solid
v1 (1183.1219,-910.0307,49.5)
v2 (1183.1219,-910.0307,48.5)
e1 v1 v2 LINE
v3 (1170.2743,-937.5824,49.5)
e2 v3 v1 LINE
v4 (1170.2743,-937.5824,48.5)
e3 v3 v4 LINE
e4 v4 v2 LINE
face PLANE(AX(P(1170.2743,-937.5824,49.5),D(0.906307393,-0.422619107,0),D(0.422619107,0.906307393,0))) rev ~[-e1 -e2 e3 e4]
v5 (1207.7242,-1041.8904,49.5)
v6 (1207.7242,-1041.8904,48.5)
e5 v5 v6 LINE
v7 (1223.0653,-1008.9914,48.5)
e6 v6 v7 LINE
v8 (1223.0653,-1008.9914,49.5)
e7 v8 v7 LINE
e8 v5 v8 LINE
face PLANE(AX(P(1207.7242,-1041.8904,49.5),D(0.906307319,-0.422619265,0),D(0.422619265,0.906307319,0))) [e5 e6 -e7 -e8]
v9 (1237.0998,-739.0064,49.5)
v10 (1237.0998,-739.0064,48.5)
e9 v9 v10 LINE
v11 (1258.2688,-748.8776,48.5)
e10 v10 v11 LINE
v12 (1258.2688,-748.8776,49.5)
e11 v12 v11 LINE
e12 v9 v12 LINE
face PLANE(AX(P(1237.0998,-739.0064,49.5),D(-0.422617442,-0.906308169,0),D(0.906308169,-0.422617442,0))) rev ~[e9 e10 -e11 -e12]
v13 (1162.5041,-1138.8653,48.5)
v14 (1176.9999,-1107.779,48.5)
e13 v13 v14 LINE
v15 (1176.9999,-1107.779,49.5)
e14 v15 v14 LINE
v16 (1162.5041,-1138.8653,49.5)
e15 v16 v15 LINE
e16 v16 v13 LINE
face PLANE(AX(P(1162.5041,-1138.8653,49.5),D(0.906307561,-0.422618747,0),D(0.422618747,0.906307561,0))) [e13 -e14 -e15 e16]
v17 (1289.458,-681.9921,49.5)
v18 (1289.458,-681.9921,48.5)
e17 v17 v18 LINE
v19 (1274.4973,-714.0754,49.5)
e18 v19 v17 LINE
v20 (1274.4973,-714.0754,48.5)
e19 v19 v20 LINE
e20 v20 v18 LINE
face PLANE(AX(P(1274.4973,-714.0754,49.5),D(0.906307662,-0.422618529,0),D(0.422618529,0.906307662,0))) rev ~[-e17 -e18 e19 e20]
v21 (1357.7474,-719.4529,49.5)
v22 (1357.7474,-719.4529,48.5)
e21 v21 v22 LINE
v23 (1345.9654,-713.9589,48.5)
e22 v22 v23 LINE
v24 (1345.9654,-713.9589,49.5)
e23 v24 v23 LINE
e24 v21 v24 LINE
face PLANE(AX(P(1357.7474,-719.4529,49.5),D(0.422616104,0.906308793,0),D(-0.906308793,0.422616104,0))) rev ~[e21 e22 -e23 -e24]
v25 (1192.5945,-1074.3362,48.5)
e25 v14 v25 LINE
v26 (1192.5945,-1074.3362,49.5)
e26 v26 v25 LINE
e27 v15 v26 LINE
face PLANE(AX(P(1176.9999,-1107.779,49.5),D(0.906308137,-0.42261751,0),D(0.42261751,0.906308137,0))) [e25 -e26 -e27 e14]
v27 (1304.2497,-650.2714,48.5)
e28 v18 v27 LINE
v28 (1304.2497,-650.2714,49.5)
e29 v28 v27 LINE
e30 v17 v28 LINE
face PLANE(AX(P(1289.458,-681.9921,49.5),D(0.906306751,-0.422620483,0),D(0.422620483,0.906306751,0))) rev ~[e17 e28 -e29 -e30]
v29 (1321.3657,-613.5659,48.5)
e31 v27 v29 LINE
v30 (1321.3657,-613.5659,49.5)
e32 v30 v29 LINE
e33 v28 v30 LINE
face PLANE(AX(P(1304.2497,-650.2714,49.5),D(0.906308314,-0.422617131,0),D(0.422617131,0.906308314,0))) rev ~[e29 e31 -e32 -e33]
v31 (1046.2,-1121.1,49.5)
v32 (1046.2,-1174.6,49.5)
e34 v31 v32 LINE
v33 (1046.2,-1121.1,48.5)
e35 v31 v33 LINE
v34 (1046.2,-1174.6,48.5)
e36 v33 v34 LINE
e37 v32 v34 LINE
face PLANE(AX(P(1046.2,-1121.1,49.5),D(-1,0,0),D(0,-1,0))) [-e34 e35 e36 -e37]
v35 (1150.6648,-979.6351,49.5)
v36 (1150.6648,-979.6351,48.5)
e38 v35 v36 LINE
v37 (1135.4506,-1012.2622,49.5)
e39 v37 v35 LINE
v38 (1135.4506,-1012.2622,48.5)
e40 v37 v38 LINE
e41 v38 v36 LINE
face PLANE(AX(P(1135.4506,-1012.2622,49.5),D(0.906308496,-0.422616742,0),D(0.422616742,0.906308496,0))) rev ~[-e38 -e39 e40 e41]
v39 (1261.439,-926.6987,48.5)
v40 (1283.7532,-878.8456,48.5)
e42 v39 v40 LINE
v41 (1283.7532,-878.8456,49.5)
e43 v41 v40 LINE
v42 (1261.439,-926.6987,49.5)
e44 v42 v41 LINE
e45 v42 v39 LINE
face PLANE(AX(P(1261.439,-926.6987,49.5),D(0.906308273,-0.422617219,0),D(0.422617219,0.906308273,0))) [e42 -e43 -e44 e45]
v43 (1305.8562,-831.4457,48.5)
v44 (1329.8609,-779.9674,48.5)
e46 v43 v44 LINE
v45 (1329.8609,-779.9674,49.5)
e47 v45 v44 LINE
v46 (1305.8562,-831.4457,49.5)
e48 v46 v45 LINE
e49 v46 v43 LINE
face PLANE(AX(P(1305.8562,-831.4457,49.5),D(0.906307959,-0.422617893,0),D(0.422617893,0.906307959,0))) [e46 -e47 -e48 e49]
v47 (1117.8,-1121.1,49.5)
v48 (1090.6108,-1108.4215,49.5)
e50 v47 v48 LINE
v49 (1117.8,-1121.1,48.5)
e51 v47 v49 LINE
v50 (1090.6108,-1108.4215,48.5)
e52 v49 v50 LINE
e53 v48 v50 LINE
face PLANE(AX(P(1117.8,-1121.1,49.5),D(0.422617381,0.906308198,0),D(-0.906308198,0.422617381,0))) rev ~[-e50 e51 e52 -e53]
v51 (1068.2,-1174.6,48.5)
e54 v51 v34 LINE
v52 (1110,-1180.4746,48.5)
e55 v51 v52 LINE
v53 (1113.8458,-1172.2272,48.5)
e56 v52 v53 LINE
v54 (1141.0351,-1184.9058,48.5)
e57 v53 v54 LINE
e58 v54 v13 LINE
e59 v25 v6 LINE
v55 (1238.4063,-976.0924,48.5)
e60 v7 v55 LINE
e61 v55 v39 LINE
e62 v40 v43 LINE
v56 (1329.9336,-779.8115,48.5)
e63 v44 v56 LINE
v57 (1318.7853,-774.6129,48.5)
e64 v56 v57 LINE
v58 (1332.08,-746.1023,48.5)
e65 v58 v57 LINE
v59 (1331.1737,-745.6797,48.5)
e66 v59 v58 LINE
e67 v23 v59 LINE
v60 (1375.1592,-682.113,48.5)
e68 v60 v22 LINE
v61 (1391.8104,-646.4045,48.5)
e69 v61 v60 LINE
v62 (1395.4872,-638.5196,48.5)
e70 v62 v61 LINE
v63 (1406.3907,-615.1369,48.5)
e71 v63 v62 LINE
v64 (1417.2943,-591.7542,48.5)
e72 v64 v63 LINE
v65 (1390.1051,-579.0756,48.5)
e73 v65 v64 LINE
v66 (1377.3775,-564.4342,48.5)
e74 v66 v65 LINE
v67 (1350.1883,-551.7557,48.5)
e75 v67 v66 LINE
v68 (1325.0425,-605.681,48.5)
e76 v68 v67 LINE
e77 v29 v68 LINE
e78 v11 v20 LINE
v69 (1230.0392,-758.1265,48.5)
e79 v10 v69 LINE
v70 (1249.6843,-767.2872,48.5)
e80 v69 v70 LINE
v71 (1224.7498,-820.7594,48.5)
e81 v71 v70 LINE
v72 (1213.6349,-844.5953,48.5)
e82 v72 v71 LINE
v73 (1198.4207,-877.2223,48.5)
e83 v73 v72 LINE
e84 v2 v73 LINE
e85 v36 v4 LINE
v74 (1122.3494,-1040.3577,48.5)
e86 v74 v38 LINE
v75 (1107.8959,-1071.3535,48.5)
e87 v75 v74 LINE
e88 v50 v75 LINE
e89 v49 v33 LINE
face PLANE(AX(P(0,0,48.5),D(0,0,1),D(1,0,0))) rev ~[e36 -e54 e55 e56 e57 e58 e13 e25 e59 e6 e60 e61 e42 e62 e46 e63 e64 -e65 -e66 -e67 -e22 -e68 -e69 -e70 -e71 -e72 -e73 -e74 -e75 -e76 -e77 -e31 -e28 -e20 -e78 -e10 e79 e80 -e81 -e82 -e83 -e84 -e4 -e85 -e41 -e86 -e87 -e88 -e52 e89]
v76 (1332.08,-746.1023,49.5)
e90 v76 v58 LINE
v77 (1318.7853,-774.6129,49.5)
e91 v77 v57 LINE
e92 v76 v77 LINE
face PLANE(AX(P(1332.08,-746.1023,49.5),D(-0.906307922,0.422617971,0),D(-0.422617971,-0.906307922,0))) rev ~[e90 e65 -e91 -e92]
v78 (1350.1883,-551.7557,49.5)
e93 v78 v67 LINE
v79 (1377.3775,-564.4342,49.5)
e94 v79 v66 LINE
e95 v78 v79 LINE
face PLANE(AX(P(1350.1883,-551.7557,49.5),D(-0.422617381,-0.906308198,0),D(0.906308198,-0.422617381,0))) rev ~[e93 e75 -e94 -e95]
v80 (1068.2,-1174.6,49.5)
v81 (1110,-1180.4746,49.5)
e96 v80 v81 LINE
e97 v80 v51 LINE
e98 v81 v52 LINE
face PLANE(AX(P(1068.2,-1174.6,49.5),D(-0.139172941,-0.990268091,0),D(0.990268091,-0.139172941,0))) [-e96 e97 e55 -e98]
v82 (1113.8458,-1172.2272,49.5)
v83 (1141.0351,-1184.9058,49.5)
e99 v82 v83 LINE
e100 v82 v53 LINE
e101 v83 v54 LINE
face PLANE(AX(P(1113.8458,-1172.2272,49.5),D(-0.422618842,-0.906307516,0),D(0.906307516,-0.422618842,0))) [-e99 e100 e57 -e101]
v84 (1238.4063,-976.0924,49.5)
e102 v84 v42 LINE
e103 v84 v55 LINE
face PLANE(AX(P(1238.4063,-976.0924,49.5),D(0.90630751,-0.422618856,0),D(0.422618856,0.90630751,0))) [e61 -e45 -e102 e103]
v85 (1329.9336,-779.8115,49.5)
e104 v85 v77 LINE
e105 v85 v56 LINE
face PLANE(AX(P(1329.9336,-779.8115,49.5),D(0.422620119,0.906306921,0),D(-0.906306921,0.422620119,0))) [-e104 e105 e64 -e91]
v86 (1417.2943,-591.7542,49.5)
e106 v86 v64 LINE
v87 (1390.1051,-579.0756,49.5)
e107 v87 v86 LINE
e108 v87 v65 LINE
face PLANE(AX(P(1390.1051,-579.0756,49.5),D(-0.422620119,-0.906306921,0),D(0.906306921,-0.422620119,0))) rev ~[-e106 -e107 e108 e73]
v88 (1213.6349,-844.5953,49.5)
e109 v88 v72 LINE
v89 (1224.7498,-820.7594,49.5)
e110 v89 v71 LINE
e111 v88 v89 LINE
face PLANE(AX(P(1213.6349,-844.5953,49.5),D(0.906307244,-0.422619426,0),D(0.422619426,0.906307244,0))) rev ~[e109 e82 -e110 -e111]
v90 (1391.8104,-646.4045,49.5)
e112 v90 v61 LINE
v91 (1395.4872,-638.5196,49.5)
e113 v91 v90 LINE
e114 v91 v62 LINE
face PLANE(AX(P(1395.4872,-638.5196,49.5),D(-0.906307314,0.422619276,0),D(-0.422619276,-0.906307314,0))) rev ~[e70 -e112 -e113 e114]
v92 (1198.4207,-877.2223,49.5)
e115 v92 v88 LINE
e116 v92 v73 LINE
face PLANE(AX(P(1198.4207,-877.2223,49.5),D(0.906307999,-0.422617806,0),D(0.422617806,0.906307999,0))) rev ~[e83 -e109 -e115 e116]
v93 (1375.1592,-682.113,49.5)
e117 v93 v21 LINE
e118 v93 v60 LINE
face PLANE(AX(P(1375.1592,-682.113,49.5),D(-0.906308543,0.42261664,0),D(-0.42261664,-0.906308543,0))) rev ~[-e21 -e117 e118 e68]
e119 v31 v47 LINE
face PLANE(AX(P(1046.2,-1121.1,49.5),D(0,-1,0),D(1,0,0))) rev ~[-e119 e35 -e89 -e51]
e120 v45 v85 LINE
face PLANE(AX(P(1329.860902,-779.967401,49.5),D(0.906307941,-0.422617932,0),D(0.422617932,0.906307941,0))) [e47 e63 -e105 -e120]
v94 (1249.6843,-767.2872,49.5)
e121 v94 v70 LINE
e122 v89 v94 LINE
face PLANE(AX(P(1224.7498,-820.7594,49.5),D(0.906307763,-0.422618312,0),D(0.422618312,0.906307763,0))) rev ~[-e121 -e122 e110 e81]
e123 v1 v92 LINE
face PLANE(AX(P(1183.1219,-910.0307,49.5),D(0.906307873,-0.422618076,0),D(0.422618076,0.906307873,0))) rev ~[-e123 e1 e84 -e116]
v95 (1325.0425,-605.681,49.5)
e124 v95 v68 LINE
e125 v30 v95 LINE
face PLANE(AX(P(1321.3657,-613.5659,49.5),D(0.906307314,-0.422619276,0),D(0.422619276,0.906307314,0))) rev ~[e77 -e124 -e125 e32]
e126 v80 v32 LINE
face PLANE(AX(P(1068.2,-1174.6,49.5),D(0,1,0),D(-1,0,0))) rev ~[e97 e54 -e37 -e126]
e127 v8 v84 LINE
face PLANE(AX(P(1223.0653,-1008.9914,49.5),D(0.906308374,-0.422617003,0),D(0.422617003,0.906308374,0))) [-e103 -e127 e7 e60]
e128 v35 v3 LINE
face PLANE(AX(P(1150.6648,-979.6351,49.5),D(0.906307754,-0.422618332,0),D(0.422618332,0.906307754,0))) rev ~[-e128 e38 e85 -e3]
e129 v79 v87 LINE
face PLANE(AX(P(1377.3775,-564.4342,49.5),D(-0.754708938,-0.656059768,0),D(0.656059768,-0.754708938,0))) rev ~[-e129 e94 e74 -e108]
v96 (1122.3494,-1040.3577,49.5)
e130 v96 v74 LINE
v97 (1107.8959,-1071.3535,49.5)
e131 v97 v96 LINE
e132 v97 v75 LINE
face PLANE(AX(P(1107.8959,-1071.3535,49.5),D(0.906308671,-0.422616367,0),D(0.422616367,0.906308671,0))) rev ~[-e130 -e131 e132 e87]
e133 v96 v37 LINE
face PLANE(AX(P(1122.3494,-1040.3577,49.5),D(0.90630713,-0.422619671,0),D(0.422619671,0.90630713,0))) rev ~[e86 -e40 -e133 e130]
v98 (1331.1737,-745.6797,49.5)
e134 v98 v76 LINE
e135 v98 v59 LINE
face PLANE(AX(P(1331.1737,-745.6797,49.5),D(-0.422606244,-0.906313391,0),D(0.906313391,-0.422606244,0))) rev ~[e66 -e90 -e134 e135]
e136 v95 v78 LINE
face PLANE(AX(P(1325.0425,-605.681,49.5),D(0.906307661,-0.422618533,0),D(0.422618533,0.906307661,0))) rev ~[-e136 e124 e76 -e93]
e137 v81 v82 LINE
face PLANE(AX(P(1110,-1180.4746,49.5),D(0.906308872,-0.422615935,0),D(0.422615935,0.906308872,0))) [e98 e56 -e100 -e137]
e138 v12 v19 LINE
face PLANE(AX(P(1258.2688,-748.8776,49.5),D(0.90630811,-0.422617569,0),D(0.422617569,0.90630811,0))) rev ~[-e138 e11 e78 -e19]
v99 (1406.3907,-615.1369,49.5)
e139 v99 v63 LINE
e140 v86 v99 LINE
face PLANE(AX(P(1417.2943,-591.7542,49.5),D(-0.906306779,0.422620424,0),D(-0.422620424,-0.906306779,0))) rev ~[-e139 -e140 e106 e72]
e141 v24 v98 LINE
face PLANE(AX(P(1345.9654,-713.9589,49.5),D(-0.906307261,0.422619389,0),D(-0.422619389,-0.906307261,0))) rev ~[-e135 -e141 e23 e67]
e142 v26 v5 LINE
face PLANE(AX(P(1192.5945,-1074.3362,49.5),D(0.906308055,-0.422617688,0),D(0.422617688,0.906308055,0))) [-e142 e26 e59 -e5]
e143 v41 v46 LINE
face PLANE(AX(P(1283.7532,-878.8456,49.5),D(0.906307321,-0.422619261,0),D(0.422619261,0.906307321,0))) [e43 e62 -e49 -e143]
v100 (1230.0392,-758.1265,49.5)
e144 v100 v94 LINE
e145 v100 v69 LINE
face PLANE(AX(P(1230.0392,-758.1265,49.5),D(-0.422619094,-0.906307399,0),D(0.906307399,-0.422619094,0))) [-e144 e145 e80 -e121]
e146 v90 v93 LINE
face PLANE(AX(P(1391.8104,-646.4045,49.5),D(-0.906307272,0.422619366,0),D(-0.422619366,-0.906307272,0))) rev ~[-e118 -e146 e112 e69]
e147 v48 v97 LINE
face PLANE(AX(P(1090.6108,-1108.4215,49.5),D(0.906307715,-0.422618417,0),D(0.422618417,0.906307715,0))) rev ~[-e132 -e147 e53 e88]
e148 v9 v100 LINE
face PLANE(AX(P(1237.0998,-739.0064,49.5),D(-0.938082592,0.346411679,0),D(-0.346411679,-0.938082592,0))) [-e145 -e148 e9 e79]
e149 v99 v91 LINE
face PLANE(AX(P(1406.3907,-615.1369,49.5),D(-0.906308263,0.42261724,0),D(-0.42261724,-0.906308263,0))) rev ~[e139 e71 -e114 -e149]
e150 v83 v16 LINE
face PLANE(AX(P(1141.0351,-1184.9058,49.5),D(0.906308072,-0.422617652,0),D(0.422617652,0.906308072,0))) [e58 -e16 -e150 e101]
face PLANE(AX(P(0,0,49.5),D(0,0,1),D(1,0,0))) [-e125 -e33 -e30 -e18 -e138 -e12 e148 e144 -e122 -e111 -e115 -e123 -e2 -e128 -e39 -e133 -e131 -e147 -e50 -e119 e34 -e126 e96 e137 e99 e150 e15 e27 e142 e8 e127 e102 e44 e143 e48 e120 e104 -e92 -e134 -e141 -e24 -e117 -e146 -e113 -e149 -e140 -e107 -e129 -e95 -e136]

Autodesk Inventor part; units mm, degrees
ref_plane "YZ Plane" through (0, 0, 0) normal (1, 0, 0) x (0, 1, 0)
ref_plane "XZ Plane" through (0, 0, 0) normal (0, 1, 0) x (-1, 0, 0)
ref_plane "工作平面1" through (0, 0, 49.5) normal (0, 0, 1) x (1, 0, 0)
sketch "草图1" plane through (0, 0, 49.5) normal (0, 0, 1) x (1, 0, 0)
  line L0 (849.2, -1174.6) -> (1031.2, -1174.6)
  line L1 (1031.2, -1121.1) -> (909.2, -1121.1)
  line L2 (1031.2, -1121.1) -> (1031.2, -1174.6)
  line L3 (916.2, -626.6) -> (1226.4, -727) construction
  arc A0 (1226.4, -727) -> (916.2, -626.6) centre (761.993, -1632.4479) ccw
  line L4 (916.2, -664.6) -> (1213.4, -757.7) construction
  arc A1 (1213.4, -757.7) -> (916.2, -664.6) centre (605.6007, -2177.0365) ccw
  line L5 (1226.4, -727) -> (1213.4, -757.7)
  line L6 (1226.4, -727) -> (1239.7468, -733.8456)
  line L7 (1213.4, -757.7) -> (1226.7468, -764.5456)
  line L8 (1239.7468, -733.8456) -> (1237.0998, -739.0064)
  line L9 (1226.7468, -764.5456) -> (1230.0392, -758.1265)
  line L10 (1031.2, -1121.1) -> (1046.2, -1121.1)
  line L11 (1046.2, -1121.1) -> (1046.2, -1174.6)
  line L12 (1046.2, -1174.6) -> (1031.2, -1174.6)
  line L13 (1046.2, -1121.1) -> (1068.2, -1121.1)
  line L14 (1068.2, -1174.6) -> (1046.2, -1174.6)
  line L15 (1068.2, -1121.1) -> (1068.2, -1139.5)
  line L16 (1068.2, -1174.6) -> (1068.2, -1156.2)
  line L17 (1068.2, -1174.6) -> (1110, -1180.4746)
  line L18 (1068.2, -1121.1) -> (1117.8, -1121.1)
  line L19 (1110, -1180.4746) -> (1113.8458, -1172.2272)
  line L20 (1113.8458, -1172.2272) -> (1141.0351, -1184.9058)
  line L21 (1141.0351, -1184.9058) -> (1162.5041, -1138.8653)
  line L22 (1162.5041, -1138.8653) -> (1176.9999, -1107.779)
  line L23 (1176.9999, -1107.779) -> (1192.5945, -1074.3362)
  line L24 (1192.5945, -1074.3362) -> (1207.7242, -1041.8904)
  line L25 (1207.7242, -1041.8904) -> (1223.0653, -1008.9914)
  line L26 (1223.0653, -1008.9914) -> (1238.4063, -976.0924)
  line L27 (1238.4063, -976.0924) -> (1261.439, -926.6987)
  line L28 (1261.439, -926.6987) -> (1283.7532, -878.8456)
  line L29 (1283.7532, -878.8456) -> (1305.8562, -831.4457)
  line L30 (1305.8562, -831.4457) -> (1329.8609, -779.9674)
  line L31 (1117.8, -1121.1) -> (1090.6108, -1108.4215)
  line L32 (1090.6108, -1108.4215) -> (1107.8959, -1071.3535)
  line L33 (1107.8959, -1071.3535) -> (1122.3494, -1040.3577)
  line L34 (1122.3494, -1040.3577) -> (1135.4506, -1012.2622)
  line L35 (1135.4506, -1012.2622) -> (1150.6648, -979.6351)
  line L36 (1150.6648, -979.6351) -> (1170.2743, -937.5824)
  line L37 (1170.2743, -937.5824) -> (1183.1219, -910.0307)
  line L38 (1183.1219, -910.0307) -> (1198.4207, -877.2223)
  line L39 (1198.4207, -877.2223) -> (1213.6349, -844.5953)
  line L40 (1213.6349, -844.5953) -> (1224.7498, -820.7594)
  line L41 (1224.7498, -820.7594) -> (1249.6843, -767.2872)
  line L42 (1230.0392, -758.1265) -> (1277.1672, -780.1027)
  line L43 (1237.0998, -739.0064) -> (1285.7517, -761.6931)
  line L44 (1277.1672, -780.1027) -> (1285.7517, -761.6931) construction
  line L45 (1249.6843, -767.2872) -> (1258.2688, -748.8776) construction
  line L46 (1258.2688, -748.8776) -> (1274.4973, -714.0754)
  line L47 (1274.4973, -714.0754) -> (1289.458, -681.9921)
  line L48 (1289.458, -681.9921) -> (1304.2497, -650.2714)
  line L49 (1304.2497, -650.2714) -> (1321.3657, -613.5659)
  line L50 (1321.3657, -613.5659) -> (1325.0425, -605.681)
  line L51 (1325.0425, -605.681) -> (1350.1883, -551.7557)
  line L52 (1350.1883, -551.7557) -> (1377.3775, -564.4342)
  line L53 (1377.3775, -564.4342) -> (1390.1051, -579.0756)
  line L54 (1390.1051, -579.0756) -> (1417.2943, -591.7542)
  line L55 (1377.3775, -564.4342) -> (1350.1883, -551.7557)
  line L56 (1350.1883, -551.7557) -> (1325.0425, -605.681)
  line L57 (1325.0425, -605.681) -> (1352.2317, -618.3596)
  line L58 (1352.2317, -618.3596) -> (1377.3775, -564.4342)
  line L59 (1352.2317, -618.3596) -> (1325.0425, -605.681)
  line L60 (1325.0425, -605.681) -> (1304.2497, -650.2714)
  line L61 (1304.2497, -650.2714) -> (1331.4389, -662.9499)
  line L62 (1331.4389, -662.9499) -> (1352.2317, -618.3596)
  line L63 (1331.4389, -662.9499) -> (1304.2497, -650.2714)
  line L64 (1304.2497, -650.2714) -> (1289.458, -681.9921)
  line L65 (1289.458, -681.9921) -> (1316.6473, -694.6707)
  line L66 (1316.6473, -694.6707) -> (1331.4389, -662.9499)
  line L67 (1316.6473, -694.6707) -> (1289.458, -681.9921)
  line L68 (1289.458, -681.9921) -> (1274.4973, -714.0754)
  line L69 (1274.4973, -714.0754) -> (1301.6866, -726.754)
  line L70 (1301.6866, -726.754) -> (1316.6473, -694.6707)
  line L71 (1301.6866, -726.754) -> (1274.4973, -714.0754)
  line L72 (1274.4973, -714.0754) -> (1258.2688, -748.8776)
  line L73 (1258.2688, -748.8776) -> (1285.458, -761.5562)
  line L74 (1285.458, -761.5562) -> (1301.6866, -726.754)
  line L75 (1417.2943, -591.7542) -> (1406.3907, -615.1369)
  line L76 (1406.3907, -615.1369) -> (1395.4872, -638.5196)
  line L77 (1395.4872, -638.5196) -> (1391.8104, -646.4045)
  line L78 (1391.8104, -646.4045) -> (1375.1592, -682.113)
  line L79 (1375.1592, -682.113) -> (1357.7474, -719.4529)
  line L80 (1390.1051, -579.0756) -> (1417.2943, -591.7542)
  line L81 (1417.2943, -591.7542) -> (1406.3907, -615.1369)
  line L82 (1406.3907, -615.1369) -> (1379.2015, -602.4583)
  line L83 (1379.2015, -602.4583) -> (1390.1051, -579.0756)
  line L84 (1379.2015, -602.4583) -> (1406.3907, -615.1369)
  line L85 (1406.3907, -615.1369) -> (1395.4872, -638.5196)
  line L86 (1395.4872, -638.5196) -> (1368.2979, -625.8411)
  line L87 (1368.2979, -625.8411) -> (1379.2015, -602.4583)
  line L88 (1368.2979, -625.8411) -> (1395.4872, -638.5196)
  line L89 (1395.4872, -638.5196) -> (1391.8104, -646.4045)
  line L90 (1391.8104, -646.4045) -> (1364.6212, -633.726)
  line L91 (1364.6212, -633.726) -> (1368.2979, -625.8411)
  line L92 (1364.6212, -633.726) -> (1391.8104, -646.4045)
  line L93 (1391.8104, -646.4045) -> (1375.1592, -682.113)
  line L94 (1375.1592, -682.113) -> (1347.97, -669.4345)
  line L95 (1347.97, -669.4345) -> (1364.6212, -633.726)
  line L96 (1347.97, -669.4345) -> (1375.1592, -682.113)
  line L97 (1375.1592, -682.113) -> (1357.7474, -719.4529)
  line L98 (1357.7474, -719.4529) -> (1330.5581, -706.7744)
  line L99 (1330.5581, -706.7744) -> (1347.97, -669.4345)
  line L100 (1330.5581, -706.7744) -> (1345.9654, -713.9589)
  line L101 (1345.9654, -713.9589) -> (1331.1737, -745.6797)
  line L102 (1331.1737, -745.6797) -> (1315.7665, -738.4951)
  line L103 (1315.7665, -738.4951) -> (1330.5581, -706.7744)
  line L104 (1113.8458, -1172.2272) -> (1141.0351, -1184.9058)
  line L105 (1141.0351, -1184.9058) -> (1162.5041, -1138.8653)
  line L106 (1162.5041, -1138.8653) -> (1135.3148, -1126.1868)
  line L107 (1135.3148, -1126.1868) -> (1113.8458, -1172.2272)
  line L108 (1135.3148, -1126.1868) -> (1162.5041, -1138.8653)
  line L109 (1162.5041, -1138.8653) -> (1176.9999, -1107.779)
  line L110 (1176.9999, -1107.779) -> (1149.8106, -1095.1004)
  line L111 (1149.8106, -1095.1004) -> (1135.3148, -1126.1868)
  line L112 (1149.8106, -1095.1004) -> (1176.9999, -1107.779)
  line L113 (1176.9999, -1107.779) -> (1192.5945, -1074.3362)
  line L114 (1192.5945, -1074.3362) -> (1165.4053, -1061.6577)
  line L115 (1165.4053, -1061.6577) -> (1149.8106, -1095.1004)
  line L116 (1165.4053, -1061.6577) -> (1192.5945, -1074.3362)
  line L117 (1192.5945, -1074.3362) -> (1207.7242, -1041.8904)
  line L118 (1207.7242, -1041.8904) -> (1180.535, -1029.2118)
  line L119 (1180.535, -1029.2118) -> (1165.4053, -1061.6577)
  line L120 (1180.535, -1029.2118) -> (1207.7242, -1041.8904)
  line L121 (1207.7242, -1041.8904) -> (1223.0653, -1008.9914)
  line L122 (1223.0653, -1008.9914) -> (1195.876, -996.3129)
  line L123 (1195.876, -996.3129) -> (1180.535, -1029.2118)
  line L124 (1195.876, -996.3129) -> (1223.0653, -1008.9914)
  line L125 (1223.0653, -1008.9914) -> (1238.4063, -976.0924)
  line L126 (1238.4063, -976.0924) -> (1211.2171, -963.4139)
  line L127 (1211.2171, -963.4139) -> (1195.876, -996.3129)
  line L128 (1211.2171, -963.4139) -> (1238.4063, -976.0924)
  line L129 (1238.4063, -976.0924) -> (1261.439, -926.6987)
  line L130 (1261.439, -926.6987) -> (1234.2498, -914.0201)
  line L131 (1234.2498, -914.0201) -> (1211.2171, -963.4139)
  line L132 (1234.2498, -914.0201) -> (1261.439, -926.6987)
  line L133 (1261.439, -926.6987) -> (1283.7532, -878.8456)
  line L134 (1283.7532, -878.8456) -> (1256.564, -866.1671)
  line L135 (1256.564, -866.1671) -> (1234.2498, -914.0201)
  line L136 (1256.564, -866.1671) -> (1283.7532, -878.8456)
  line L137 (1283.7532, -878.8456) -> (1305.8562, -831.4457)
  line L138 (1305.8562, -831.4457) -> (1278.6669, -818.7672)
  line L139 (1278.6669, -818.7672) -> (1256.564, -866.1671)
  line L140 (1278.6669, -818.7672) -> (1305.8562, -831.4457)
  line L141 (1305.8562, -831.4457) -> (1329.9336, -779.8115)
  line L142 (1329.9336, -779.8115) -> (1302.7444, -767.1329)
  line L143 (1302.7444, -767.1329) -> (1278.6669, -818.7672)
  line L144 (1117.8, -1121.1) -> (1090.6108, -1108.4215)
  line L145 (1090.6108, -1108.4215) -> (1107.8959, -1071.3535)
  line L146 (1107.8959, -1071.3535) -> (1135.0851, -1084.032)
  line L147 (1135.0851, -1084.032) -> (1117.8, -1121.1)
  line L148 (1135.0851, -1084.032) -> (1107.8959, -1071.3535)
  line L149 (1107.8959, -1071.3535) -> (1122.3494, -1040.3577)
  line L150 (1122.3494, -1040.3577) -> (1149.5386, -1053.0363)
  line L151 (1149.5386, -1053.0363) -> (1135.0851, -1084.032)
  line L152 (1149.5386, -1053.0363) -> (1122.3494, -1040.3577)
  line L153 (1122.3494, -1040.3577) -> (1135.4506, -1012.2622)
  line L154 (1135.4506, -1012.2622) -> (1162.6398, -1024.9407)
  line L155 (1162.6398, -1024.9407) -> (1149.5386, -1053.0363)
  line L156 (1162.6398, -1024.9407) -> (1135.4506, -1012.2622)
  line L157 (1135.4506, -1012.2622) -> (1150.6648, -979.6351)
  line L158 (1150.6648, -979.6351) -> (1177.8541, -992.3137)
  line L159 (1177.8541, -992.3137) -> (1162.6398, -1024.9407)
  line L160 (1177.8541, -992.3137) -> (1150.6648, -979.6351)
  line L161 (1150.6648, -979.6351) -> (1170.2743, -937.5824)
  line L162 (1170.2743, -937.5824) -> (1197.4635, -950.261)
  line L163 (1197.4635, -950.261) -> (1177.8541, -992.3137)
  line L164 (1197.4635, -950.261) -> (1170.2743, -937.5824)
  line L165 (1170.2743, -937.5824) -> (1183.1219, -910.0307)
  line L166 (1183.1219, -910.0307) -> (1210.3111, -922.7092)
  line L167 (1210.3111, -922.7092) -> (1197.4635, -950.261)
  line L168 (1210.3111, -922.7092) -> (1183.1219, -910.0307)
  line L169 (1183.1219, -910.0307) -> (1198.4207, -877.2223)
  line L170 (1198.4207, -877.2223) -> (1225.6099, -889.9009)
  line L171 (1225.6099, -889.9009) -> (1210.3111, -922.7092)
  line L172 (1225.6099, -889.9009) -> (1198.4207, -877.2223)
  line L173 (1198.4207, -877.2223) -> (1213.6349, -844.5953)
  line L174 (1213.6349, -844.5953) -> (1240.8242, -857.2738)
  line L175 (1240.8242, -857.2738) -> (1225.6099, -889.9009)
  line L176 (1240.8242, -857.2738) -> (1213.6349, -844.5953)
  line L177 (1213.6349, -844.5953) -> (1224.7498, -820.7594)
  line L178 (1224.7498, -820.7594) -> (1251.939, -833.4379)
  line L179 (1251.939, -833.4379) -> (1240.8242, -857.2738)
  line L180 (1251.939, -833.4379) -> (1224.7498, -820.7594)
  line L181 (1224.7498, -820.7594) -> (1249.6843, -767.2872)
  line L182 (1249.6843, -767.2872) -> (1276.8735, -779.9657)
  line L183 (1276.8735, -779.9657) -> (1251.939, -833.4379)
  line L184 (1331.1737, -745.6797) -> (1332.08, -746.1023)
  line L185 (1332.08, -746.1023) -> (1318.7853, -774.6129)
  line L186 (1302.7444, -767.1329) -> (1315.7665, -738.4951) construction
  line L187 (1237.0998, -739.0064) -> (1230.0618, -758.0824)
  point P0 (0, 0)
  dimension "d122" = 182
  dimension "d123" = 100.4
  dimension "d124" = 310.2
  dimension "d125" = 1017.6
  dimension "d126" = 93.1
  dimension "d127" = 297.2
  dimension "d128" = 1544
  dimension "d129" = 15
  dimension "d130" = 15
  dimension "d131" = 5.8
  dimension "d133" = 15
  dimension "d134" = 22
  dimension "d135" = 18.4
  dimension "d136" = 18.4
  dimension "d137" = 172
  dimension "d138" = 41.8
  dimension "d139" = 49.6
  dimension "d140" = 107
  dimension "d141" = 9.1
  dimension "d142" = 30
  dimension "d143" = 50.8
  dimension "d144" = 34.3
  dimension "d145" = 36.9
  dimension "d146" = 35.8
  dimension "d147" = 36.3
  dimension "d148" = 36.3
  dimension "d149" = 54.5
  dimension "d150" = 52.8
  dimension "d151" = 52.3
  dimension "d152" = 56.8
  dimension "d153" = 30
  dimension "d154" = 40.9
  dimension "d155" = 34.2
  dimension "d156" = 31
  dimension "d157" = 36
  dimension "d158" = 46.4
  dimension "d159" = 30.4
  dimension "d160" = 36.2
  dimension "d161" = 36
  dimension "d162" = 26.3
  dimension "d163" = 59
  dimension "d164" = 52
  dimension "d165" = 38.4
  dimension "d166" = 35.4
  dimension "d167" = 35
  dimension "d168" = 40.5
  dimension "d169" = 8.7
  dimension "d170" = 59.5
  dimension "d171" = 30
  dimension "d172" = 156
  dimension "d173" = 19.4
  dimension "d174" = 30
  dimension "d175" = 25.8
  dimension "d176" = 25.8
  dimension "d177" = 8.7
  dimension "d178" = 39.4
  dimension "d179" = 41.2
  dimension "d180" = 17
  dimension "d181" = 35
  dimension "d183" = 1
  dimension "d184" = 0.548
  dimension "d185" = 87.95
  dimension "d186" = 25
  dimension "d187" = 25
extrude "拉伸1" add sketch "草图1" against normal blind 1 contours L13 L18 L147 L151 L155 L159 L163 L167 L171 L175 L179 L183 L42 L9 L7 L5 L6 L8 L43 L74 L70 L66 L62 L58 L53 L83 L87 L91 L95 L99 L103 L102 L184 L185 L142 L143 L139 L135 L131 L127 L123 L119 L115 L111 L107 L19 L17 L14 L11 | L31 L32 L146 L147 | L146 L33 L150 L151 | L107 L106 L21 L20 | L150 L34 L154 L155 | L111 L110 L22 L106 | L154 L35 L158 L159 | L115 L114 L23 L110 | L158 L36 L162 L163 | L119 L118 L24 L114 | L162 L37 L166 L167 | L123 L122 L25 L118 | L166 L38 L170 L171 | L127 L126 L26 L122 | L170 L39 L174 L175 | L131 L130 L27 L126 | L174 L40 L178 L179 | L135 L134 L28 L130 | L178 L41 L42 L183 | L139 L138 L29 L134 | L143 L142 L141 L30 L138 | L102 L103 L98 L101 | L98 L99 L94 L79 | L94 L95 L90 L78 | L46 L69 L74 L43 | L90 L91 L86 L77 | L47 L65 L70 L69 | L86 L87 L82 L76 | L48 L61 L66 L65 | L82 L83 L54 L75 | L49 L50 L57 L62 L61 | L58 L57 L51 L52
sketch "草图2" plane through (0, 0, 49.5) normal (0, 0, 1) x (1, 0, 0)
  line L0 (1239.7468, -733.8456) -> (1226.4, -727) projected
  line L1 (1226.4, -727) -> (1213.4, -757.7) projected
  line L2 (1237.0998, -739.0064) -> (1239.7468, -733.8456) projected
  line L3 (1226.7468, -764.5456) -> (1230.0392, -758.1265) projected
  line L4 (1213.4, -757.7) -> (1226.7468, -764.5456) projected
  line L5 (1237.0998, -739.0064) -> (1230.0392, -758.1265)
  point P0 (0, 0)
extrude "拉伸2" cut sketch "草图2" against normal blind 2
properties part number "LabVIEWM0.5"
